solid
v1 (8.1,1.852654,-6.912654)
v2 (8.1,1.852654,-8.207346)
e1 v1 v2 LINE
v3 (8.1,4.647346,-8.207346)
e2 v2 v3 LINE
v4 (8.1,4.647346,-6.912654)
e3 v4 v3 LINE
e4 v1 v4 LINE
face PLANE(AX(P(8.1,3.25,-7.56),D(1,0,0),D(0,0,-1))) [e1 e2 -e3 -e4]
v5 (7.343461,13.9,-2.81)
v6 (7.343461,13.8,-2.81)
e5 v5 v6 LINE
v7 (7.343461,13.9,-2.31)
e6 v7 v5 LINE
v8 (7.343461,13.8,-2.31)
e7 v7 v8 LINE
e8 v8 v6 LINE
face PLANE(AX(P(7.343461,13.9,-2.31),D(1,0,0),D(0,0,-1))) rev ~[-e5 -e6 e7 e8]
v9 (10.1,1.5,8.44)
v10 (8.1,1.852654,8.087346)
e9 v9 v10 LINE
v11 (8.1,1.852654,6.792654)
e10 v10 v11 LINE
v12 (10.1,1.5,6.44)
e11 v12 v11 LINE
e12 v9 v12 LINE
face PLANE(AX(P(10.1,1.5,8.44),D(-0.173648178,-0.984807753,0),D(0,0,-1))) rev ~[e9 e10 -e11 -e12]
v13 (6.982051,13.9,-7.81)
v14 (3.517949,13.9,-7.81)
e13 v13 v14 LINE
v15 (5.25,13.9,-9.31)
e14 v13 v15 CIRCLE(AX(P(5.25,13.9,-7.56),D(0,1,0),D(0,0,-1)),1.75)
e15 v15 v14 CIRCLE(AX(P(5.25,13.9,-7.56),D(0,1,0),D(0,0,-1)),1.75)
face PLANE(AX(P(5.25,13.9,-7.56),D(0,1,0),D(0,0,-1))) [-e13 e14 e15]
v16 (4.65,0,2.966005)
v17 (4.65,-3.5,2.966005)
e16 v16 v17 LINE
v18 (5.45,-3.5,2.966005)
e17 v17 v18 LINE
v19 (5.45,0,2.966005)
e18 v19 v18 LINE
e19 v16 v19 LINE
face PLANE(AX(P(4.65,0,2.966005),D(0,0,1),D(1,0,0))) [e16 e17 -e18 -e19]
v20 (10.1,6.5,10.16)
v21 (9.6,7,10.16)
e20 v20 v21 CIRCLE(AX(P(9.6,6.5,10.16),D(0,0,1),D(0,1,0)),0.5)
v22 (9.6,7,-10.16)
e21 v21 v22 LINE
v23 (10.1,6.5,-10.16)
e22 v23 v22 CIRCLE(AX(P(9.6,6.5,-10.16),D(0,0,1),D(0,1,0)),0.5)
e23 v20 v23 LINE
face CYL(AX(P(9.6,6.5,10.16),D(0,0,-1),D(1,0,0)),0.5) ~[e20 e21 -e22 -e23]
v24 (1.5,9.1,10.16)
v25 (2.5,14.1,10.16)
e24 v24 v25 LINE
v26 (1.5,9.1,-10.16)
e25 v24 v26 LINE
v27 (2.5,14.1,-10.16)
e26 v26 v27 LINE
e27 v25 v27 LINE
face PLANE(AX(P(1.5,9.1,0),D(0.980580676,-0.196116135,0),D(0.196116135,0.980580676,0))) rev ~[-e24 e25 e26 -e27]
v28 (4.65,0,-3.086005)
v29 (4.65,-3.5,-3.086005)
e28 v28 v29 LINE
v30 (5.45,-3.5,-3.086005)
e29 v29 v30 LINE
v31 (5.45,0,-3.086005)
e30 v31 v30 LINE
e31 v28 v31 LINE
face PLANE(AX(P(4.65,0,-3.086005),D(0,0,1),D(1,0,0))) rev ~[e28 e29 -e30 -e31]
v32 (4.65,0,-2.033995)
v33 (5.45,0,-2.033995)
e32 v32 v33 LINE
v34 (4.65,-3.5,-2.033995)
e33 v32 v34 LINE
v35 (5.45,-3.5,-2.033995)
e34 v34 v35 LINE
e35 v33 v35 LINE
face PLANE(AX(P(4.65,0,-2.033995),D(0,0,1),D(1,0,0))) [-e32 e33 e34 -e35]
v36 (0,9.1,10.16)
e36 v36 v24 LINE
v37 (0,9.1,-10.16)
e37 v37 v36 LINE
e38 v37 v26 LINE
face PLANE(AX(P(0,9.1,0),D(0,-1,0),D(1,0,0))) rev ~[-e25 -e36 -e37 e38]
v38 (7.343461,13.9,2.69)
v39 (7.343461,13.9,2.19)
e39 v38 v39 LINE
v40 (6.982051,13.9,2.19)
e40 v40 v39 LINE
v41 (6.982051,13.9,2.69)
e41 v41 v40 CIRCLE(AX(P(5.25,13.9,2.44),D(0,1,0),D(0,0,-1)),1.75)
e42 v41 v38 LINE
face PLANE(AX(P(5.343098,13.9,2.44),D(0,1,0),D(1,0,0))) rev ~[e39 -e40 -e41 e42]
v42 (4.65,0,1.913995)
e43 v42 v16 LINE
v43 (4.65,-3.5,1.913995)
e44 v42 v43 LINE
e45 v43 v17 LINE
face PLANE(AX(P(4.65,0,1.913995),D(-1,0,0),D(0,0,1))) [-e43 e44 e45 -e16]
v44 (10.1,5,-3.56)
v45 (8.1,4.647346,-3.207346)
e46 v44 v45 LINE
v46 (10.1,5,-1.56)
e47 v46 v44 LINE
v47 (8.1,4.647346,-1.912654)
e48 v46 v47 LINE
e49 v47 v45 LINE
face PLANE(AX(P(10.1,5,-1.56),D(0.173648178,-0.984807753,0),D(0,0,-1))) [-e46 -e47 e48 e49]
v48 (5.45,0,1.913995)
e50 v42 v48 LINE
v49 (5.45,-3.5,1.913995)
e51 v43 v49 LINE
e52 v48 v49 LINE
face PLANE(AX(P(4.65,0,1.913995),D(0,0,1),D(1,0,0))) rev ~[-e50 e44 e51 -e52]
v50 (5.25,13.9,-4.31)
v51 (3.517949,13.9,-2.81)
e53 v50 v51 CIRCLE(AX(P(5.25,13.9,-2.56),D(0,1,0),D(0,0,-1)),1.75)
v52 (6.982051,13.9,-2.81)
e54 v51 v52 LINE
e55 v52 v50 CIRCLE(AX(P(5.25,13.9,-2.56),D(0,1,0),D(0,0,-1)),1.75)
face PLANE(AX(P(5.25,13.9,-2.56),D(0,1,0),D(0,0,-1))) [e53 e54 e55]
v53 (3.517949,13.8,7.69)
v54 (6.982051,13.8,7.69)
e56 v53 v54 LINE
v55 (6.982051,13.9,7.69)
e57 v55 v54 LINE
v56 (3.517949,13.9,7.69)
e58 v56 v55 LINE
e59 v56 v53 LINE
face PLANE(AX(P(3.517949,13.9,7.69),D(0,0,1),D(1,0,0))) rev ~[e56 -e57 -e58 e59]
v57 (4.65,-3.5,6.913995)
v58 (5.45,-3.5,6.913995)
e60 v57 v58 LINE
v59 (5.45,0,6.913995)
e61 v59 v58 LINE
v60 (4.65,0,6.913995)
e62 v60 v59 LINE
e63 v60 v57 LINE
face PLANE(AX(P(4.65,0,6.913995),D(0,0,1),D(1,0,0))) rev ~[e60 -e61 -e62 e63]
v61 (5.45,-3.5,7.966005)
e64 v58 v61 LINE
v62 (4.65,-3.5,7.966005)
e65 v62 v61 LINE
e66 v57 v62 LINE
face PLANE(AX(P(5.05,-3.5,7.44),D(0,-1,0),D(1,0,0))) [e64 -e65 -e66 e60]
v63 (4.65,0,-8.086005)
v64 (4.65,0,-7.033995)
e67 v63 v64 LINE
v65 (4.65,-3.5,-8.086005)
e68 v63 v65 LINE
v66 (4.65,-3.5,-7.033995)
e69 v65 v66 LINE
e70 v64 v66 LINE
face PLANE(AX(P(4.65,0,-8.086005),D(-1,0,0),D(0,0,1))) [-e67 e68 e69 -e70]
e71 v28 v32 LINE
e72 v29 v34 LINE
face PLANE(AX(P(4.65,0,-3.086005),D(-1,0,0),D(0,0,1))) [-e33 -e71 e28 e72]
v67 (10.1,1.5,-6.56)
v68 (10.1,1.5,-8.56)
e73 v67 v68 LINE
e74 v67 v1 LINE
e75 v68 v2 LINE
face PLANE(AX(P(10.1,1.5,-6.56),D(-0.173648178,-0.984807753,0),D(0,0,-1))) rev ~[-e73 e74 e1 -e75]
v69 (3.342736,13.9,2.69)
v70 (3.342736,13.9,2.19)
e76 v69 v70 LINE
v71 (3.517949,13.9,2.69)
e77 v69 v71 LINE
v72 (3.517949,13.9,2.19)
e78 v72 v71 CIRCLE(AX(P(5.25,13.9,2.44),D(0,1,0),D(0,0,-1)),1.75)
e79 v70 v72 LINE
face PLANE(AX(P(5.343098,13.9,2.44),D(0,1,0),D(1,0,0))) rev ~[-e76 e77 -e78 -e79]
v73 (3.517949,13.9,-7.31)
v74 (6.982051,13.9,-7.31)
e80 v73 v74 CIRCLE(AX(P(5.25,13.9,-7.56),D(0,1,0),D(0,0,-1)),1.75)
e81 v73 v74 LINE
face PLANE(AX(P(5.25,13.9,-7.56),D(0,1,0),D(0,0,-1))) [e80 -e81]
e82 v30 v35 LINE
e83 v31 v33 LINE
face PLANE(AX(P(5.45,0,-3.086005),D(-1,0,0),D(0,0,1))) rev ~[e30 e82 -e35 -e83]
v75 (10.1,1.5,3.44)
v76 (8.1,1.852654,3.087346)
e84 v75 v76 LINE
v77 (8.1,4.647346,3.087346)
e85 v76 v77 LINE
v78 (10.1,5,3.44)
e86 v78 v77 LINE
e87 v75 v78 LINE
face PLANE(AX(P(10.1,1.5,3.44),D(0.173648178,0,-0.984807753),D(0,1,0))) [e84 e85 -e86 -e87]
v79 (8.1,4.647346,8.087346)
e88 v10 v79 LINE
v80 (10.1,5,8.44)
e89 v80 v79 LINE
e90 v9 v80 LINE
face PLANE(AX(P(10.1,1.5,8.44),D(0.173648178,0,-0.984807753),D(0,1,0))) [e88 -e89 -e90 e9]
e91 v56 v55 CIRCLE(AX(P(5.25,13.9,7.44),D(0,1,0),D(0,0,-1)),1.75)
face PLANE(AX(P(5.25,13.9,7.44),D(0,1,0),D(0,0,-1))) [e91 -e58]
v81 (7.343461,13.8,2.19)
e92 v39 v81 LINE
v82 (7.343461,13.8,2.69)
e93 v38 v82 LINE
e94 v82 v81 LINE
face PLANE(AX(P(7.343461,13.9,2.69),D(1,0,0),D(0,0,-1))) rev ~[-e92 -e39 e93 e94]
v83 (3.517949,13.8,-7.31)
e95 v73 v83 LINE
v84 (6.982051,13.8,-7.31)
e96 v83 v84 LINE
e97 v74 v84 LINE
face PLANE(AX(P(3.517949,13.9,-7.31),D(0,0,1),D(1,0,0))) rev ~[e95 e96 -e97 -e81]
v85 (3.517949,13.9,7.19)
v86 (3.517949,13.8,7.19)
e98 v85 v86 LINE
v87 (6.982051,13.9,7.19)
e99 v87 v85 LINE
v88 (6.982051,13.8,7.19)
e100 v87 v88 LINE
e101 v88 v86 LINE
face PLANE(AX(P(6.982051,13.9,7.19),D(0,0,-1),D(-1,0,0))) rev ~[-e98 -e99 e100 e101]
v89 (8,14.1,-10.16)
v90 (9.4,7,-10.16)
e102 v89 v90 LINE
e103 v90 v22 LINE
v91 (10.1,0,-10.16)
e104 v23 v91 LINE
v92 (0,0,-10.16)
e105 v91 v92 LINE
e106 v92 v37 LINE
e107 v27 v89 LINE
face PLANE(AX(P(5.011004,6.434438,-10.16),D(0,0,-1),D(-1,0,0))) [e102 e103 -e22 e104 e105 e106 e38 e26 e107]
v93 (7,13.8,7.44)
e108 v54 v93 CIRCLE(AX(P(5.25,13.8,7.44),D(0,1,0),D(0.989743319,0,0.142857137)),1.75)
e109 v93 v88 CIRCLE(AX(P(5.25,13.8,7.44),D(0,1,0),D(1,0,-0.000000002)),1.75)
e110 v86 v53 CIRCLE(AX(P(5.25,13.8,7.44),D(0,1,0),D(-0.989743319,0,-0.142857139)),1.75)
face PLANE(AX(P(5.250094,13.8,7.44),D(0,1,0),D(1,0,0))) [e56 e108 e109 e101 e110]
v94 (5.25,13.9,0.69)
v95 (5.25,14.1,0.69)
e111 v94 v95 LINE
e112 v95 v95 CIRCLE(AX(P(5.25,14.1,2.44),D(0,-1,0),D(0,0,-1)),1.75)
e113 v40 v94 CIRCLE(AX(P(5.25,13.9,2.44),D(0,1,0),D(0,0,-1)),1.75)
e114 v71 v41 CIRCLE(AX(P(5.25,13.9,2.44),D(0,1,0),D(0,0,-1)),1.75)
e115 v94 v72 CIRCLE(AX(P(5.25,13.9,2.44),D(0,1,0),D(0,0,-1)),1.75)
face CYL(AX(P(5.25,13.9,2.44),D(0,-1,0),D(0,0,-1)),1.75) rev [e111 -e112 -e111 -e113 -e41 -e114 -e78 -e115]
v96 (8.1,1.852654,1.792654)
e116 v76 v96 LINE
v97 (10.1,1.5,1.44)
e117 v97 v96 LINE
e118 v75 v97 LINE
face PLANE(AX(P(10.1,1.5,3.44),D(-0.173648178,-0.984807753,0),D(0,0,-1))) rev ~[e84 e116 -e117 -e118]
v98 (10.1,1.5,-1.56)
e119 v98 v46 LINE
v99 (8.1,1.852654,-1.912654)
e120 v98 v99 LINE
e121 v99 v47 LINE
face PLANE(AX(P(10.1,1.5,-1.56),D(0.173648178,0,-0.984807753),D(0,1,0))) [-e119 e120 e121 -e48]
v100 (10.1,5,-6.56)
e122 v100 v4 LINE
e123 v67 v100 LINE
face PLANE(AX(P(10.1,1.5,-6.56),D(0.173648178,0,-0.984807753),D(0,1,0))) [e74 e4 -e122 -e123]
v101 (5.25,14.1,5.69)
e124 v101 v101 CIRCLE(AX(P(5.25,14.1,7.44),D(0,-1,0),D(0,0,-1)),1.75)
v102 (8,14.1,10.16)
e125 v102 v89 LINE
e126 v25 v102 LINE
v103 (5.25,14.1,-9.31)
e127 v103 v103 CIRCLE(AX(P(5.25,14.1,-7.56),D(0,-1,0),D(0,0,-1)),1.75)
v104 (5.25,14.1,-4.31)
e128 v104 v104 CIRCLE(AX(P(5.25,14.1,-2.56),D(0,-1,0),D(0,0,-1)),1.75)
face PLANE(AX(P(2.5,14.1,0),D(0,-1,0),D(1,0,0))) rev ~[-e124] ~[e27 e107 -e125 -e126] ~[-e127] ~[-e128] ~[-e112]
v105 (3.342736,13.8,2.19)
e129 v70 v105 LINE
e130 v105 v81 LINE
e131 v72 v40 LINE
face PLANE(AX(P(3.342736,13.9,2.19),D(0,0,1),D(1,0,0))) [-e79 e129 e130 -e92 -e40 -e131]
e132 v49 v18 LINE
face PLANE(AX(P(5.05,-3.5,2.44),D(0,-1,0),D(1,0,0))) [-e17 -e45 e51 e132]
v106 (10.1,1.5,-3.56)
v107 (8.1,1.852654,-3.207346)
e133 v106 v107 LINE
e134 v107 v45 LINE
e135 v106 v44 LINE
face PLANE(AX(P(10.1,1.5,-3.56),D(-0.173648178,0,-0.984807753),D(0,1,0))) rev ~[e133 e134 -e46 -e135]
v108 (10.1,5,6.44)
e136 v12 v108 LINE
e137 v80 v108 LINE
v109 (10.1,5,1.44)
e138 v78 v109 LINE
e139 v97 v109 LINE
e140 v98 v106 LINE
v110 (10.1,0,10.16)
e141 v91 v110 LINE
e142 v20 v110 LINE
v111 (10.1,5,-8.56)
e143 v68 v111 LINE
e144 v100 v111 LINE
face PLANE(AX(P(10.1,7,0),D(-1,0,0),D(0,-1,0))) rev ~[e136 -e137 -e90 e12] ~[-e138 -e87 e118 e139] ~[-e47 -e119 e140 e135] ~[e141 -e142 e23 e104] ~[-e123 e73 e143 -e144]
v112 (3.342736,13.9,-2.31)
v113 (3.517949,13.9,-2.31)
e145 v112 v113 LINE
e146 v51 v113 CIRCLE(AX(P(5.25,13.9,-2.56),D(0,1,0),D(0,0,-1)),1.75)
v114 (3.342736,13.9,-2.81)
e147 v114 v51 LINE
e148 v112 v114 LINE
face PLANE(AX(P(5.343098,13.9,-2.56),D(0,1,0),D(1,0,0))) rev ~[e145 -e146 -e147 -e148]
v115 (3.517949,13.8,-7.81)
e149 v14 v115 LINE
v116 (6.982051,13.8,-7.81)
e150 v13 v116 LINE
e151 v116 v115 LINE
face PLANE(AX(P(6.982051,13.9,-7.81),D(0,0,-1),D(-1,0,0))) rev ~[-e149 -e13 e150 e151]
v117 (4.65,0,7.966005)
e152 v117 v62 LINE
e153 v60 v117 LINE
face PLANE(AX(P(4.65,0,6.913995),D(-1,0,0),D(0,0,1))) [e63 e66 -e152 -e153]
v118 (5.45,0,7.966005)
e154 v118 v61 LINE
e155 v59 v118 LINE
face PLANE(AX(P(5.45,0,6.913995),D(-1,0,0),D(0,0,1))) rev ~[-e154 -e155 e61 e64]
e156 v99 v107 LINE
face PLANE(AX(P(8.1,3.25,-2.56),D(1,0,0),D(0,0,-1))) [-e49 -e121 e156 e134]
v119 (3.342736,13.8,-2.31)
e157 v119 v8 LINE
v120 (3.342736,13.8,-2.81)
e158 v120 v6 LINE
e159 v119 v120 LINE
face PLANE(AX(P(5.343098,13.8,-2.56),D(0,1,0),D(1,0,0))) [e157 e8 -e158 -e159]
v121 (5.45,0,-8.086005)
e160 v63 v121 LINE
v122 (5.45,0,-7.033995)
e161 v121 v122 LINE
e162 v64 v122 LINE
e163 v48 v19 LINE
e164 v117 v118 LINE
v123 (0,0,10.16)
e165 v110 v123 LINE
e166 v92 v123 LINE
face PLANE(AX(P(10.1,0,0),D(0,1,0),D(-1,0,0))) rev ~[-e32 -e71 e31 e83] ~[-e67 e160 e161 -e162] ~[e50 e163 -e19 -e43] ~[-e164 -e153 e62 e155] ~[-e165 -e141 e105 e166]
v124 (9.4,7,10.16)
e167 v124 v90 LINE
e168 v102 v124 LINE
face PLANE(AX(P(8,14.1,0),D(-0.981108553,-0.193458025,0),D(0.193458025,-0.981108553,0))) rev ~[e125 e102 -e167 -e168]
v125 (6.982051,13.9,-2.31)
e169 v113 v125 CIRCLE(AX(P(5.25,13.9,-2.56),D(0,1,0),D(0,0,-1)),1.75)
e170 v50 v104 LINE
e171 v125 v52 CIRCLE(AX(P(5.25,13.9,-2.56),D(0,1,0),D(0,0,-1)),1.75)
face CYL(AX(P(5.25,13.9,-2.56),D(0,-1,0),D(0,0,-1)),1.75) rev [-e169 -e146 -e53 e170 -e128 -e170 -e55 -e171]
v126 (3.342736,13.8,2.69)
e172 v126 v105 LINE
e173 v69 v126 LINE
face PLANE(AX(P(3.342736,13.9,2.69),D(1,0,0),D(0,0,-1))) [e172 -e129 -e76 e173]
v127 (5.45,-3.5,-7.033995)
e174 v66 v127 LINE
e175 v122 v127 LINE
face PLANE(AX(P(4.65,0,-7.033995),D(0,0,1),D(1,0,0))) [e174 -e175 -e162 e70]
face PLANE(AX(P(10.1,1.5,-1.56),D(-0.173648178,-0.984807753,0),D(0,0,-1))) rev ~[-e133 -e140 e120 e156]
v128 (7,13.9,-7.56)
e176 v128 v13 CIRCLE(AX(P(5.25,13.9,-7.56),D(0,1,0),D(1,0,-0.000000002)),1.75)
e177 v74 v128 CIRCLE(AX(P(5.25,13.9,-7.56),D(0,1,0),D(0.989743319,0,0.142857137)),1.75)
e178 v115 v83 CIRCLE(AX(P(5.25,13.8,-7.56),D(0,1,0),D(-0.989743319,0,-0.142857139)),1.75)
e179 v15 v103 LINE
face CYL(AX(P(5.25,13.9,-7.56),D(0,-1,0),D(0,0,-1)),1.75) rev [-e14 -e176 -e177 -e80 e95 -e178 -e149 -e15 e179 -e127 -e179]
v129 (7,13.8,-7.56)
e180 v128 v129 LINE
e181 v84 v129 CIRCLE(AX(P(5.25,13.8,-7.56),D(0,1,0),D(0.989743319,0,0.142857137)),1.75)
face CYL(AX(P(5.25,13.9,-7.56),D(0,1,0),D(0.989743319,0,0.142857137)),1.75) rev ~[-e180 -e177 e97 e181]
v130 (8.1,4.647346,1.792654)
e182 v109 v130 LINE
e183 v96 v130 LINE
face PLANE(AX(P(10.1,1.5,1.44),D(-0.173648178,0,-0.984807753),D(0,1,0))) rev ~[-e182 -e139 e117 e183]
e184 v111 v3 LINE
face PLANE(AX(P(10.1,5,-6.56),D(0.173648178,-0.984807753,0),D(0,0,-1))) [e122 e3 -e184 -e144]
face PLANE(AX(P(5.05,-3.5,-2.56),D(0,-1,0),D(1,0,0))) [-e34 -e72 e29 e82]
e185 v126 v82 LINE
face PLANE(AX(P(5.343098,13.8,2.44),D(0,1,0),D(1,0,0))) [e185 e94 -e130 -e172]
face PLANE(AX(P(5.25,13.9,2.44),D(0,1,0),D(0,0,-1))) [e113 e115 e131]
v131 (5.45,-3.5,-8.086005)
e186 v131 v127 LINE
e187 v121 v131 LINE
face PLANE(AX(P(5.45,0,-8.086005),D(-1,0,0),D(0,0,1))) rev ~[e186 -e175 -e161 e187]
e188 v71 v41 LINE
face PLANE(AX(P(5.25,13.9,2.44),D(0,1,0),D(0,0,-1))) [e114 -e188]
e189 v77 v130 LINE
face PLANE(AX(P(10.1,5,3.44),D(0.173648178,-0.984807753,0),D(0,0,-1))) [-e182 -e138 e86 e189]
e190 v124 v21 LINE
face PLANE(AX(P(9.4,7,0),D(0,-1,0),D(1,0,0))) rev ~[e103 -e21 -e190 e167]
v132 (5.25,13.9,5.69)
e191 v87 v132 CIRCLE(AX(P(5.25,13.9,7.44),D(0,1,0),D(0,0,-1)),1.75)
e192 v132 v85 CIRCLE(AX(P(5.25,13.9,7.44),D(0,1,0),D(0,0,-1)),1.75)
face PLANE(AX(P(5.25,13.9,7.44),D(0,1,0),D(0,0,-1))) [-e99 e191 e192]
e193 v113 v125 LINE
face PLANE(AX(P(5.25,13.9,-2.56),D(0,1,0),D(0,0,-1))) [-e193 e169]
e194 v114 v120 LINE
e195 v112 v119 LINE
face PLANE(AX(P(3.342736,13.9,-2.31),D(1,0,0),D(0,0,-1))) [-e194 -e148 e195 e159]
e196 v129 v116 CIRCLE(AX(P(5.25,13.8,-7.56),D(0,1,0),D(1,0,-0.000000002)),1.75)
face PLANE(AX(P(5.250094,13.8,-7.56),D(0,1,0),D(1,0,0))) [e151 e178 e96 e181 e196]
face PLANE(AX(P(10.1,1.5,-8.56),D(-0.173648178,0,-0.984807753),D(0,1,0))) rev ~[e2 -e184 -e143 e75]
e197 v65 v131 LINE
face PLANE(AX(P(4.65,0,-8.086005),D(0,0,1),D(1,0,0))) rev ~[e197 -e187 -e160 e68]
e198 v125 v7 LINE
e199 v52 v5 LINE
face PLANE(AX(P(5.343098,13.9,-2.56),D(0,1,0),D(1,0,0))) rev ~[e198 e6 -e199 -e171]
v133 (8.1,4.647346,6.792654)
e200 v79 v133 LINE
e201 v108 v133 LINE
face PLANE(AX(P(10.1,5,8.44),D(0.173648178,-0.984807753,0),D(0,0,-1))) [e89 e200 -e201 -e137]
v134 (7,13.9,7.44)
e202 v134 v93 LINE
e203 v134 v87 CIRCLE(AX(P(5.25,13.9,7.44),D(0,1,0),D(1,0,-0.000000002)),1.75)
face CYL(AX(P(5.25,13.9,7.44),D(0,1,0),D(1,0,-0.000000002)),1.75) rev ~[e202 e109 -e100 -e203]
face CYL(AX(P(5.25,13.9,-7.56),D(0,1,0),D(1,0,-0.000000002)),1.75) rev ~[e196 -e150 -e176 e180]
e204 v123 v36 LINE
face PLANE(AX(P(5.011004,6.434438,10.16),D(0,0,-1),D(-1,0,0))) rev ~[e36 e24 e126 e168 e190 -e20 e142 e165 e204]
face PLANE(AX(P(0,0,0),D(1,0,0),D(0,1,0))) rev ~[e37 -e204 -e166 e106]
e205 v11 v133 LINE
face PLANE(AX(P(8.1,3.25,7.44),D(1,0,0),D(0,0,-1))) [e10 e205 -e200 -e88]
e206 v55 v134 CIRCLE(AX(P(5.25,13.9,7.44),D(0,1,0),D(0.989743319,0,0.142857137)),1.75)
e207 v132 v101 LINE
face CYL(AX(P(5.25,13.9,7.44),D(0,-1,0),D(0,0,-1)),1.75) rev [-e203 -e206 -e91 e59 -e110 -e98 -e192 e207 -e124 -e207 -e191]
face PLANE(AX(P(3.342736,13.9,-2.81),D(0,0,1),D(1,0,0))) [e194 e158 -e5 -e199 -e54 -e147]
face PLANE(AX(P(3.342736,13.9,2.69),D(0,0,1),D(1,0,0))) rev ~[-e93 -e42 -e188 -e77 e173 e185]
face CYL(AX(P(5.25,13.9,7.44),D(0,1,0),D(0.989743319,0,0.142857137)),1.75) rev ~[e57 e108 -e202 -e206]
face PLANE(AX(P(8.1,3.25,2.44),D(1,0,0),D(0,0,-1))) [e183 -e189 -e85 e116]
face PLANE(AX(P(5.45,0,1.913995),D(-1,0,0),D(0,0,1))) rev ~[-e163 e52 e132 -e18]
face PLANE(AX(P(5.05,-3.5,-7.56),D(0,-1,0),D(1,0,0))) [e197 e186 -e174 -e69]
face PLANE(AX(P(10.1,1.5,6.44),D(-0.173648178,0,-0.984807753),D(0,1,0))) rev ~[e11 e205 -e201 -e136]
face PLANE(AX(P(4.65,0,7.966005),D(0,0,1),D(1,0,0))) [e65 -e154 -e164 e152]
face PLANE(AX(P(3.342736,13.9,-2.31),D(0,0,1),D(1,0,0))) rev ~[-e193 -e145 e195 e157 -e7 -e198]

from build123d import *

# Parameters (mm, degrees)
BOSS_EXTRUDE1_DEPTH          = 10.16
FILLET1_R                    = 0.5
CUT_EXTRUDE1_DEPTH           = 21.100885553
CUT_EXTRUDE1_DEPTH_BACK      = 0.2
SKETCH2_R                    = 1.75
SKETCH3_W                    = 0.8
SKETCH3_H                    = 1.05200998
BOSS_EXTRUDE2_DEPTH          = 3.5
SKETCH4_W                    = 2
SKETCH4_H                    = 3.5
CUT_EXTRUDE2_DEPTH           = 2
CUT_EXTRUDE2_DRAFT           = -10
CUT_EXTRUDE2_PROFILE_2_DEPTH = 2
CUT_EXTRUDE2_PROFILE_2_DRAFT = -10
CUT_EXTRUDE2_PROFILE_3_DEPTH = 2
CUT_EXTRUDE2_PROFILE_3_DRAFT = -10
CUT_EXTRUDE2_PROFILE_4_DEPTH = 2
CUT_EXTRUDE2_PROFILE_4_DRAFT = -10
SKETCH5_W                    = 4.000724796
SKETCH5_H                    = 0.5
CUT_EXTRUDE3_DEPTH           = 0.1


with BuildPart() as part:
    # Sketch1 → Boss-Extrude1 (new, symmetric)
    with BuildSketch(Plane.XY):
        Polygon((0, 9.1), (1.5, 9.1), (2.5, 14.1), (8, 14.1), (9.4, 7), (10.1, 7), (10.1, 0), (0, 0), align=None)
    extrude(amount=BOSS_EXTRUDE1_DEPTH, both=True)

    # Fillet1
    fillet1_edges = [part.edges().sort_by_distance(p)[0] for p in [
        (10.1, 7, 0),
    ]]
    fillet(fillet1_edges, radius=FILLET1_R)

    # Sketch2 → Cut-Extrude1 (cut, two sides: drawn at the far end of the back side and taken through both)
    with BuildSketch(Plane(origin=(0, 14.1, 0), x_dir=(1, 0, 0), z_dir=(0, 1, 0)).offset(-CUT_EXTRUDE1_DEPTH_BACK)):
        with Locations(Location((5.25, 7.56, 0), (0, 0, 90))):
            Circle(SKETCH2_R)
        with Locations(Location((5.25, 2.56, 0), (0, 0, 90))):
            Circle(SKETCH2_R)
        with Locations(Location((5.25, -2.44, 0), (0, 0, 90))):
            Circle(SKETCH2_R)
        with Locations(Location((5.25, -7.44, 0), (0, 0, 90))):
            Circle(SKETCH2_R)
    extrude(amount=CUT_EXTRUDE1_DEPTH + CUT_EXTRUDE1_DEPTH_BACK, mode=Mode.SUBTRACT)

    # Sketch3 → Boss-Extrude2 (add)
    with BuildSketch(Plane.XZ):
        with Locations((5.05, 7.44)):
            Rectangle(SKETCH3_W, SKETCH3_H)
        with Locations((5.05, 2.44)):
            Rectangle(SKETCH3_W, SKETCH3_H)
        with Locations((5.05, -2.56)):
            Rectangle(SKETCH3_W, SKETCH3_H)
        with Locations((5.05, -7.56)):
            Rectangle(SKETCH3_W, SKETCH3_H)
    extrude(amount=BOSS_EXTRUDE2_DEPTH)


with BuildPart() as cut_extrude2_tool:
    # Sketch4 → Cut-Extrude2 (with draft: the straight prism first)
    with BuildSketch(Plane(origin=(10.1, 0, 0), x_dir=(0, 0, -1), z_dir=(1, 0, 0))):
        with Locations((-2.44, 3.25)):
            Rectangle(SKETCH4_W, SKETCH4_H)
    extrude(amount=-CUT_EXTRUDE2_DEPTH)
    # Cut-Extrude2: the draft: its side faces are tilted about the plane it starts from
    cut_extrude2_sides = [cut_extrude2_tool.faces().sort_by_distance(p)[0] for p in [
        (9.1, 3.25, 3.44),
        (9.1, 1.5, 2.44),
        (9.1, 3.25, 1.44),
        (9.1, 5, 2.44),
    ]]
    draft(cut_extrude2_sides, Plane(origin=(10.1, 0, 0), x_dir=(0, 0, -1), z_dir=(1, 0, 0)), CUT_EXTRUDE2_DRAFT)


with BuildPart() as part_1:
    add(part.part)

    # Cut-Extrude2: cut by cut_extrude2_tool
    add(cut_extrude2_tool.part, mode=Mode.SUBTRACT)


with BuildPart() as cut_extrude2_profile_2_tool:
    # Sketch4 → Cut-Extrude2 profile 2 (with draft: the straight prism first)
    with BuildSketch(Plane(origin=(10.1, 0, 0), x_dir=(0, 0, -1), z_dir=(1, 0, 0))):
        with Locations((-7.44, 3.25)):
            Rectangle(SKETCH4_W, SKETCH4_H)
    extrude(amount=-CUT_EXTRUDE2_PROFILE_2_DEPTH)
    # Cut-Extrude2 profile 2: the draft: its side faces are tilted about the plane it starts from
    cut_extrude2_profile_2_sides = [cut_extrude2_profile_2_tool.faces().sort_by_distance(p)[0] for p in [
        (9.1, 3.25, 8.44),
        (9.1, 1.5, 7.44),
        (9.1, 3.25, 6.44),
        (9.1, 5, 7.44),
    ]]
    draft(cut_extrude2_profile_2_sides, Plane(origin=(10.1, 0, 0), x_dir=(0, 0, -1), z_dir=(1, 0, 0)), CUT_EXTRUDE2_PROFILE_2_DRAFT)


with BuildPart() as part_2:
    add(part_1.part)

    # Cut-Extrude2 profile 2: cut by cut_extrude2_profile_2_tool
    add(cut_extrude2_profile_2_tool.part, mode=Mode.SUBTRACT)


with BuildPart() as cut_extrude2_profile_3_tool:
    # Sketch4 → Cut-Extrude2 profile 3 (with draft: the straight prism first)
    with BuildSketch(Plane(origin=(10.1, 0, 0), x_dir=(0, 0, -1), z_dir=(1, 0, 0))):
        with Locations((2.56, 3.25)):
            Rectangle(SKETCH4_W, SKETCH4_H)
    extrude(amount=-CUT_EXTRUDE2_PROFILE_3_DEPTH)
    # Cut-Extrude2 profile 3: the draft: its side faces are tilted about the plane it starts from
    cut_extrude2_profile_3_sides = [cut_extrude2_profile_3_tool.faces().sort_by_distance(p)[0] for p in [
        (9.1, 3.25, -1.56),
        (9.1, 1.5, -2.56),
        (9.1, 3.25, -3.56),
        (9.1, 5, -2.56),
    ]]
    draft(cut_extrude2_profile_3_sides, Plane(origin=(10.1, 0, 0), x_dir=(0, 0, -1), z_dir=(1, 0, 0)), CUT_EXTRUDE2_PROFILE_3_DRAFT)


with BuildPart() as part_3:
    add(part_2.part)

    # Cut-Extrude2 profile 3: cut by cut_extrude2_profile_3_tool
    add(cut_extrude2_profile_3_tool.part, mode=Mode.SUBTRACT)


with BuildPart() as cut_extrude2_profile_4_tool:
    # Sketch4 → Cut-Extrude2 profile 4 (with draft: the straight prism first)
    with BuildSketch(Plane(origin=(10.1, 0, 0), x_dir=(0, 0, -1), z_dir=(1, 0, 0))):
        with Locations((7.56, 3.25)):
            Rectangle(SKETCH4_W, SKETCH4_H)
    extrude(amount=-CUT_EXTRUDE2_PROFILE_4_DEPTH)
    # Cut-Extrude2 profile 4: the draft: its side faces are tilted about the plane it starts from
    cut_extrude2_profile_4_sides = [cut_extrude2_profile_4_tool.faces().sort_by_distance(p)[0] for p in [
        (9.1, 3.25, -6.56),
        (9.1, 1.5, -7.56),
        (9.1, 3.25, -8.56),
        (9.1, 5, -7.56),
    ]]
    draft(cut_extrude2_profile_4_sides, Plane(origin=(10.1, 0, 0), x_dir=(0, 0, -1), z_dir=(1, 0, 0)), CUT_EXTRUDE2_PROFILE_4_DRAFT)


with BuildPart() as part_4:
    add(part_3.part)

    # Cut-Extrude2 profile 4: cut by cut_extrude2_profile_4_tool
    add(cut_extrude2_profile_4_tool.part, mode=Mode.SUBTRACT)

    # Sketch5 → Cut-Extrude3 (cut)
    with BuildSketch(Plane(origin=(0, 13.9, 0), x_dir=(1, 0, 0), z_dir=(0, 1, 0))):
        with BuildLine():
            Line((6.982050808, 7.81), (3.517949192, 7.81))
            ThreePointArc((3.517949192, 7.81), (3.5, 7.56), (3.517949192, 7.31))
            Line((3.517949192, 7.31), (6.982050808, 7.31))
            ThreePointArc((6.982050808, 7.31), (6.995506934, 7.434678241), (7, 7.56))
            ThreePointArc((7, 7.56), (6.995506934, 7.685321759), (6.982050808, 7.81))
        make_face()
        with BuildLine():
            Line((6.982050808, -7.19), (3.517949192, -7.19))
            ThreePointArc((3.517949192, -7.19), (3.5, -7.44), (3.517949192, -7.69))
            Line((3.517949192, -7.69), (6.982050808, -7.69))
            ThreePointArc((6.982050808, -7.69), (6.995506934, -7.565321759), (7, -7.44))
            ThreePointArc((7, -7.44), (6.995506934, -7.314678241), (6.982050808, -7.19))
        make_face()
        with Locations((5.343098393, 2.56)):
            Rectangle(SKETCH5_W, SKETCH5_H)
        with Locations((5.343098393, -2.44)):
            Rectangle(SKETCH5_W, SKETCH5_H)
    extrude(amount=-CUT_EXTRUDE3_DEPTH, mode=Mode.SUBTRACT)


solid = part_4.part
